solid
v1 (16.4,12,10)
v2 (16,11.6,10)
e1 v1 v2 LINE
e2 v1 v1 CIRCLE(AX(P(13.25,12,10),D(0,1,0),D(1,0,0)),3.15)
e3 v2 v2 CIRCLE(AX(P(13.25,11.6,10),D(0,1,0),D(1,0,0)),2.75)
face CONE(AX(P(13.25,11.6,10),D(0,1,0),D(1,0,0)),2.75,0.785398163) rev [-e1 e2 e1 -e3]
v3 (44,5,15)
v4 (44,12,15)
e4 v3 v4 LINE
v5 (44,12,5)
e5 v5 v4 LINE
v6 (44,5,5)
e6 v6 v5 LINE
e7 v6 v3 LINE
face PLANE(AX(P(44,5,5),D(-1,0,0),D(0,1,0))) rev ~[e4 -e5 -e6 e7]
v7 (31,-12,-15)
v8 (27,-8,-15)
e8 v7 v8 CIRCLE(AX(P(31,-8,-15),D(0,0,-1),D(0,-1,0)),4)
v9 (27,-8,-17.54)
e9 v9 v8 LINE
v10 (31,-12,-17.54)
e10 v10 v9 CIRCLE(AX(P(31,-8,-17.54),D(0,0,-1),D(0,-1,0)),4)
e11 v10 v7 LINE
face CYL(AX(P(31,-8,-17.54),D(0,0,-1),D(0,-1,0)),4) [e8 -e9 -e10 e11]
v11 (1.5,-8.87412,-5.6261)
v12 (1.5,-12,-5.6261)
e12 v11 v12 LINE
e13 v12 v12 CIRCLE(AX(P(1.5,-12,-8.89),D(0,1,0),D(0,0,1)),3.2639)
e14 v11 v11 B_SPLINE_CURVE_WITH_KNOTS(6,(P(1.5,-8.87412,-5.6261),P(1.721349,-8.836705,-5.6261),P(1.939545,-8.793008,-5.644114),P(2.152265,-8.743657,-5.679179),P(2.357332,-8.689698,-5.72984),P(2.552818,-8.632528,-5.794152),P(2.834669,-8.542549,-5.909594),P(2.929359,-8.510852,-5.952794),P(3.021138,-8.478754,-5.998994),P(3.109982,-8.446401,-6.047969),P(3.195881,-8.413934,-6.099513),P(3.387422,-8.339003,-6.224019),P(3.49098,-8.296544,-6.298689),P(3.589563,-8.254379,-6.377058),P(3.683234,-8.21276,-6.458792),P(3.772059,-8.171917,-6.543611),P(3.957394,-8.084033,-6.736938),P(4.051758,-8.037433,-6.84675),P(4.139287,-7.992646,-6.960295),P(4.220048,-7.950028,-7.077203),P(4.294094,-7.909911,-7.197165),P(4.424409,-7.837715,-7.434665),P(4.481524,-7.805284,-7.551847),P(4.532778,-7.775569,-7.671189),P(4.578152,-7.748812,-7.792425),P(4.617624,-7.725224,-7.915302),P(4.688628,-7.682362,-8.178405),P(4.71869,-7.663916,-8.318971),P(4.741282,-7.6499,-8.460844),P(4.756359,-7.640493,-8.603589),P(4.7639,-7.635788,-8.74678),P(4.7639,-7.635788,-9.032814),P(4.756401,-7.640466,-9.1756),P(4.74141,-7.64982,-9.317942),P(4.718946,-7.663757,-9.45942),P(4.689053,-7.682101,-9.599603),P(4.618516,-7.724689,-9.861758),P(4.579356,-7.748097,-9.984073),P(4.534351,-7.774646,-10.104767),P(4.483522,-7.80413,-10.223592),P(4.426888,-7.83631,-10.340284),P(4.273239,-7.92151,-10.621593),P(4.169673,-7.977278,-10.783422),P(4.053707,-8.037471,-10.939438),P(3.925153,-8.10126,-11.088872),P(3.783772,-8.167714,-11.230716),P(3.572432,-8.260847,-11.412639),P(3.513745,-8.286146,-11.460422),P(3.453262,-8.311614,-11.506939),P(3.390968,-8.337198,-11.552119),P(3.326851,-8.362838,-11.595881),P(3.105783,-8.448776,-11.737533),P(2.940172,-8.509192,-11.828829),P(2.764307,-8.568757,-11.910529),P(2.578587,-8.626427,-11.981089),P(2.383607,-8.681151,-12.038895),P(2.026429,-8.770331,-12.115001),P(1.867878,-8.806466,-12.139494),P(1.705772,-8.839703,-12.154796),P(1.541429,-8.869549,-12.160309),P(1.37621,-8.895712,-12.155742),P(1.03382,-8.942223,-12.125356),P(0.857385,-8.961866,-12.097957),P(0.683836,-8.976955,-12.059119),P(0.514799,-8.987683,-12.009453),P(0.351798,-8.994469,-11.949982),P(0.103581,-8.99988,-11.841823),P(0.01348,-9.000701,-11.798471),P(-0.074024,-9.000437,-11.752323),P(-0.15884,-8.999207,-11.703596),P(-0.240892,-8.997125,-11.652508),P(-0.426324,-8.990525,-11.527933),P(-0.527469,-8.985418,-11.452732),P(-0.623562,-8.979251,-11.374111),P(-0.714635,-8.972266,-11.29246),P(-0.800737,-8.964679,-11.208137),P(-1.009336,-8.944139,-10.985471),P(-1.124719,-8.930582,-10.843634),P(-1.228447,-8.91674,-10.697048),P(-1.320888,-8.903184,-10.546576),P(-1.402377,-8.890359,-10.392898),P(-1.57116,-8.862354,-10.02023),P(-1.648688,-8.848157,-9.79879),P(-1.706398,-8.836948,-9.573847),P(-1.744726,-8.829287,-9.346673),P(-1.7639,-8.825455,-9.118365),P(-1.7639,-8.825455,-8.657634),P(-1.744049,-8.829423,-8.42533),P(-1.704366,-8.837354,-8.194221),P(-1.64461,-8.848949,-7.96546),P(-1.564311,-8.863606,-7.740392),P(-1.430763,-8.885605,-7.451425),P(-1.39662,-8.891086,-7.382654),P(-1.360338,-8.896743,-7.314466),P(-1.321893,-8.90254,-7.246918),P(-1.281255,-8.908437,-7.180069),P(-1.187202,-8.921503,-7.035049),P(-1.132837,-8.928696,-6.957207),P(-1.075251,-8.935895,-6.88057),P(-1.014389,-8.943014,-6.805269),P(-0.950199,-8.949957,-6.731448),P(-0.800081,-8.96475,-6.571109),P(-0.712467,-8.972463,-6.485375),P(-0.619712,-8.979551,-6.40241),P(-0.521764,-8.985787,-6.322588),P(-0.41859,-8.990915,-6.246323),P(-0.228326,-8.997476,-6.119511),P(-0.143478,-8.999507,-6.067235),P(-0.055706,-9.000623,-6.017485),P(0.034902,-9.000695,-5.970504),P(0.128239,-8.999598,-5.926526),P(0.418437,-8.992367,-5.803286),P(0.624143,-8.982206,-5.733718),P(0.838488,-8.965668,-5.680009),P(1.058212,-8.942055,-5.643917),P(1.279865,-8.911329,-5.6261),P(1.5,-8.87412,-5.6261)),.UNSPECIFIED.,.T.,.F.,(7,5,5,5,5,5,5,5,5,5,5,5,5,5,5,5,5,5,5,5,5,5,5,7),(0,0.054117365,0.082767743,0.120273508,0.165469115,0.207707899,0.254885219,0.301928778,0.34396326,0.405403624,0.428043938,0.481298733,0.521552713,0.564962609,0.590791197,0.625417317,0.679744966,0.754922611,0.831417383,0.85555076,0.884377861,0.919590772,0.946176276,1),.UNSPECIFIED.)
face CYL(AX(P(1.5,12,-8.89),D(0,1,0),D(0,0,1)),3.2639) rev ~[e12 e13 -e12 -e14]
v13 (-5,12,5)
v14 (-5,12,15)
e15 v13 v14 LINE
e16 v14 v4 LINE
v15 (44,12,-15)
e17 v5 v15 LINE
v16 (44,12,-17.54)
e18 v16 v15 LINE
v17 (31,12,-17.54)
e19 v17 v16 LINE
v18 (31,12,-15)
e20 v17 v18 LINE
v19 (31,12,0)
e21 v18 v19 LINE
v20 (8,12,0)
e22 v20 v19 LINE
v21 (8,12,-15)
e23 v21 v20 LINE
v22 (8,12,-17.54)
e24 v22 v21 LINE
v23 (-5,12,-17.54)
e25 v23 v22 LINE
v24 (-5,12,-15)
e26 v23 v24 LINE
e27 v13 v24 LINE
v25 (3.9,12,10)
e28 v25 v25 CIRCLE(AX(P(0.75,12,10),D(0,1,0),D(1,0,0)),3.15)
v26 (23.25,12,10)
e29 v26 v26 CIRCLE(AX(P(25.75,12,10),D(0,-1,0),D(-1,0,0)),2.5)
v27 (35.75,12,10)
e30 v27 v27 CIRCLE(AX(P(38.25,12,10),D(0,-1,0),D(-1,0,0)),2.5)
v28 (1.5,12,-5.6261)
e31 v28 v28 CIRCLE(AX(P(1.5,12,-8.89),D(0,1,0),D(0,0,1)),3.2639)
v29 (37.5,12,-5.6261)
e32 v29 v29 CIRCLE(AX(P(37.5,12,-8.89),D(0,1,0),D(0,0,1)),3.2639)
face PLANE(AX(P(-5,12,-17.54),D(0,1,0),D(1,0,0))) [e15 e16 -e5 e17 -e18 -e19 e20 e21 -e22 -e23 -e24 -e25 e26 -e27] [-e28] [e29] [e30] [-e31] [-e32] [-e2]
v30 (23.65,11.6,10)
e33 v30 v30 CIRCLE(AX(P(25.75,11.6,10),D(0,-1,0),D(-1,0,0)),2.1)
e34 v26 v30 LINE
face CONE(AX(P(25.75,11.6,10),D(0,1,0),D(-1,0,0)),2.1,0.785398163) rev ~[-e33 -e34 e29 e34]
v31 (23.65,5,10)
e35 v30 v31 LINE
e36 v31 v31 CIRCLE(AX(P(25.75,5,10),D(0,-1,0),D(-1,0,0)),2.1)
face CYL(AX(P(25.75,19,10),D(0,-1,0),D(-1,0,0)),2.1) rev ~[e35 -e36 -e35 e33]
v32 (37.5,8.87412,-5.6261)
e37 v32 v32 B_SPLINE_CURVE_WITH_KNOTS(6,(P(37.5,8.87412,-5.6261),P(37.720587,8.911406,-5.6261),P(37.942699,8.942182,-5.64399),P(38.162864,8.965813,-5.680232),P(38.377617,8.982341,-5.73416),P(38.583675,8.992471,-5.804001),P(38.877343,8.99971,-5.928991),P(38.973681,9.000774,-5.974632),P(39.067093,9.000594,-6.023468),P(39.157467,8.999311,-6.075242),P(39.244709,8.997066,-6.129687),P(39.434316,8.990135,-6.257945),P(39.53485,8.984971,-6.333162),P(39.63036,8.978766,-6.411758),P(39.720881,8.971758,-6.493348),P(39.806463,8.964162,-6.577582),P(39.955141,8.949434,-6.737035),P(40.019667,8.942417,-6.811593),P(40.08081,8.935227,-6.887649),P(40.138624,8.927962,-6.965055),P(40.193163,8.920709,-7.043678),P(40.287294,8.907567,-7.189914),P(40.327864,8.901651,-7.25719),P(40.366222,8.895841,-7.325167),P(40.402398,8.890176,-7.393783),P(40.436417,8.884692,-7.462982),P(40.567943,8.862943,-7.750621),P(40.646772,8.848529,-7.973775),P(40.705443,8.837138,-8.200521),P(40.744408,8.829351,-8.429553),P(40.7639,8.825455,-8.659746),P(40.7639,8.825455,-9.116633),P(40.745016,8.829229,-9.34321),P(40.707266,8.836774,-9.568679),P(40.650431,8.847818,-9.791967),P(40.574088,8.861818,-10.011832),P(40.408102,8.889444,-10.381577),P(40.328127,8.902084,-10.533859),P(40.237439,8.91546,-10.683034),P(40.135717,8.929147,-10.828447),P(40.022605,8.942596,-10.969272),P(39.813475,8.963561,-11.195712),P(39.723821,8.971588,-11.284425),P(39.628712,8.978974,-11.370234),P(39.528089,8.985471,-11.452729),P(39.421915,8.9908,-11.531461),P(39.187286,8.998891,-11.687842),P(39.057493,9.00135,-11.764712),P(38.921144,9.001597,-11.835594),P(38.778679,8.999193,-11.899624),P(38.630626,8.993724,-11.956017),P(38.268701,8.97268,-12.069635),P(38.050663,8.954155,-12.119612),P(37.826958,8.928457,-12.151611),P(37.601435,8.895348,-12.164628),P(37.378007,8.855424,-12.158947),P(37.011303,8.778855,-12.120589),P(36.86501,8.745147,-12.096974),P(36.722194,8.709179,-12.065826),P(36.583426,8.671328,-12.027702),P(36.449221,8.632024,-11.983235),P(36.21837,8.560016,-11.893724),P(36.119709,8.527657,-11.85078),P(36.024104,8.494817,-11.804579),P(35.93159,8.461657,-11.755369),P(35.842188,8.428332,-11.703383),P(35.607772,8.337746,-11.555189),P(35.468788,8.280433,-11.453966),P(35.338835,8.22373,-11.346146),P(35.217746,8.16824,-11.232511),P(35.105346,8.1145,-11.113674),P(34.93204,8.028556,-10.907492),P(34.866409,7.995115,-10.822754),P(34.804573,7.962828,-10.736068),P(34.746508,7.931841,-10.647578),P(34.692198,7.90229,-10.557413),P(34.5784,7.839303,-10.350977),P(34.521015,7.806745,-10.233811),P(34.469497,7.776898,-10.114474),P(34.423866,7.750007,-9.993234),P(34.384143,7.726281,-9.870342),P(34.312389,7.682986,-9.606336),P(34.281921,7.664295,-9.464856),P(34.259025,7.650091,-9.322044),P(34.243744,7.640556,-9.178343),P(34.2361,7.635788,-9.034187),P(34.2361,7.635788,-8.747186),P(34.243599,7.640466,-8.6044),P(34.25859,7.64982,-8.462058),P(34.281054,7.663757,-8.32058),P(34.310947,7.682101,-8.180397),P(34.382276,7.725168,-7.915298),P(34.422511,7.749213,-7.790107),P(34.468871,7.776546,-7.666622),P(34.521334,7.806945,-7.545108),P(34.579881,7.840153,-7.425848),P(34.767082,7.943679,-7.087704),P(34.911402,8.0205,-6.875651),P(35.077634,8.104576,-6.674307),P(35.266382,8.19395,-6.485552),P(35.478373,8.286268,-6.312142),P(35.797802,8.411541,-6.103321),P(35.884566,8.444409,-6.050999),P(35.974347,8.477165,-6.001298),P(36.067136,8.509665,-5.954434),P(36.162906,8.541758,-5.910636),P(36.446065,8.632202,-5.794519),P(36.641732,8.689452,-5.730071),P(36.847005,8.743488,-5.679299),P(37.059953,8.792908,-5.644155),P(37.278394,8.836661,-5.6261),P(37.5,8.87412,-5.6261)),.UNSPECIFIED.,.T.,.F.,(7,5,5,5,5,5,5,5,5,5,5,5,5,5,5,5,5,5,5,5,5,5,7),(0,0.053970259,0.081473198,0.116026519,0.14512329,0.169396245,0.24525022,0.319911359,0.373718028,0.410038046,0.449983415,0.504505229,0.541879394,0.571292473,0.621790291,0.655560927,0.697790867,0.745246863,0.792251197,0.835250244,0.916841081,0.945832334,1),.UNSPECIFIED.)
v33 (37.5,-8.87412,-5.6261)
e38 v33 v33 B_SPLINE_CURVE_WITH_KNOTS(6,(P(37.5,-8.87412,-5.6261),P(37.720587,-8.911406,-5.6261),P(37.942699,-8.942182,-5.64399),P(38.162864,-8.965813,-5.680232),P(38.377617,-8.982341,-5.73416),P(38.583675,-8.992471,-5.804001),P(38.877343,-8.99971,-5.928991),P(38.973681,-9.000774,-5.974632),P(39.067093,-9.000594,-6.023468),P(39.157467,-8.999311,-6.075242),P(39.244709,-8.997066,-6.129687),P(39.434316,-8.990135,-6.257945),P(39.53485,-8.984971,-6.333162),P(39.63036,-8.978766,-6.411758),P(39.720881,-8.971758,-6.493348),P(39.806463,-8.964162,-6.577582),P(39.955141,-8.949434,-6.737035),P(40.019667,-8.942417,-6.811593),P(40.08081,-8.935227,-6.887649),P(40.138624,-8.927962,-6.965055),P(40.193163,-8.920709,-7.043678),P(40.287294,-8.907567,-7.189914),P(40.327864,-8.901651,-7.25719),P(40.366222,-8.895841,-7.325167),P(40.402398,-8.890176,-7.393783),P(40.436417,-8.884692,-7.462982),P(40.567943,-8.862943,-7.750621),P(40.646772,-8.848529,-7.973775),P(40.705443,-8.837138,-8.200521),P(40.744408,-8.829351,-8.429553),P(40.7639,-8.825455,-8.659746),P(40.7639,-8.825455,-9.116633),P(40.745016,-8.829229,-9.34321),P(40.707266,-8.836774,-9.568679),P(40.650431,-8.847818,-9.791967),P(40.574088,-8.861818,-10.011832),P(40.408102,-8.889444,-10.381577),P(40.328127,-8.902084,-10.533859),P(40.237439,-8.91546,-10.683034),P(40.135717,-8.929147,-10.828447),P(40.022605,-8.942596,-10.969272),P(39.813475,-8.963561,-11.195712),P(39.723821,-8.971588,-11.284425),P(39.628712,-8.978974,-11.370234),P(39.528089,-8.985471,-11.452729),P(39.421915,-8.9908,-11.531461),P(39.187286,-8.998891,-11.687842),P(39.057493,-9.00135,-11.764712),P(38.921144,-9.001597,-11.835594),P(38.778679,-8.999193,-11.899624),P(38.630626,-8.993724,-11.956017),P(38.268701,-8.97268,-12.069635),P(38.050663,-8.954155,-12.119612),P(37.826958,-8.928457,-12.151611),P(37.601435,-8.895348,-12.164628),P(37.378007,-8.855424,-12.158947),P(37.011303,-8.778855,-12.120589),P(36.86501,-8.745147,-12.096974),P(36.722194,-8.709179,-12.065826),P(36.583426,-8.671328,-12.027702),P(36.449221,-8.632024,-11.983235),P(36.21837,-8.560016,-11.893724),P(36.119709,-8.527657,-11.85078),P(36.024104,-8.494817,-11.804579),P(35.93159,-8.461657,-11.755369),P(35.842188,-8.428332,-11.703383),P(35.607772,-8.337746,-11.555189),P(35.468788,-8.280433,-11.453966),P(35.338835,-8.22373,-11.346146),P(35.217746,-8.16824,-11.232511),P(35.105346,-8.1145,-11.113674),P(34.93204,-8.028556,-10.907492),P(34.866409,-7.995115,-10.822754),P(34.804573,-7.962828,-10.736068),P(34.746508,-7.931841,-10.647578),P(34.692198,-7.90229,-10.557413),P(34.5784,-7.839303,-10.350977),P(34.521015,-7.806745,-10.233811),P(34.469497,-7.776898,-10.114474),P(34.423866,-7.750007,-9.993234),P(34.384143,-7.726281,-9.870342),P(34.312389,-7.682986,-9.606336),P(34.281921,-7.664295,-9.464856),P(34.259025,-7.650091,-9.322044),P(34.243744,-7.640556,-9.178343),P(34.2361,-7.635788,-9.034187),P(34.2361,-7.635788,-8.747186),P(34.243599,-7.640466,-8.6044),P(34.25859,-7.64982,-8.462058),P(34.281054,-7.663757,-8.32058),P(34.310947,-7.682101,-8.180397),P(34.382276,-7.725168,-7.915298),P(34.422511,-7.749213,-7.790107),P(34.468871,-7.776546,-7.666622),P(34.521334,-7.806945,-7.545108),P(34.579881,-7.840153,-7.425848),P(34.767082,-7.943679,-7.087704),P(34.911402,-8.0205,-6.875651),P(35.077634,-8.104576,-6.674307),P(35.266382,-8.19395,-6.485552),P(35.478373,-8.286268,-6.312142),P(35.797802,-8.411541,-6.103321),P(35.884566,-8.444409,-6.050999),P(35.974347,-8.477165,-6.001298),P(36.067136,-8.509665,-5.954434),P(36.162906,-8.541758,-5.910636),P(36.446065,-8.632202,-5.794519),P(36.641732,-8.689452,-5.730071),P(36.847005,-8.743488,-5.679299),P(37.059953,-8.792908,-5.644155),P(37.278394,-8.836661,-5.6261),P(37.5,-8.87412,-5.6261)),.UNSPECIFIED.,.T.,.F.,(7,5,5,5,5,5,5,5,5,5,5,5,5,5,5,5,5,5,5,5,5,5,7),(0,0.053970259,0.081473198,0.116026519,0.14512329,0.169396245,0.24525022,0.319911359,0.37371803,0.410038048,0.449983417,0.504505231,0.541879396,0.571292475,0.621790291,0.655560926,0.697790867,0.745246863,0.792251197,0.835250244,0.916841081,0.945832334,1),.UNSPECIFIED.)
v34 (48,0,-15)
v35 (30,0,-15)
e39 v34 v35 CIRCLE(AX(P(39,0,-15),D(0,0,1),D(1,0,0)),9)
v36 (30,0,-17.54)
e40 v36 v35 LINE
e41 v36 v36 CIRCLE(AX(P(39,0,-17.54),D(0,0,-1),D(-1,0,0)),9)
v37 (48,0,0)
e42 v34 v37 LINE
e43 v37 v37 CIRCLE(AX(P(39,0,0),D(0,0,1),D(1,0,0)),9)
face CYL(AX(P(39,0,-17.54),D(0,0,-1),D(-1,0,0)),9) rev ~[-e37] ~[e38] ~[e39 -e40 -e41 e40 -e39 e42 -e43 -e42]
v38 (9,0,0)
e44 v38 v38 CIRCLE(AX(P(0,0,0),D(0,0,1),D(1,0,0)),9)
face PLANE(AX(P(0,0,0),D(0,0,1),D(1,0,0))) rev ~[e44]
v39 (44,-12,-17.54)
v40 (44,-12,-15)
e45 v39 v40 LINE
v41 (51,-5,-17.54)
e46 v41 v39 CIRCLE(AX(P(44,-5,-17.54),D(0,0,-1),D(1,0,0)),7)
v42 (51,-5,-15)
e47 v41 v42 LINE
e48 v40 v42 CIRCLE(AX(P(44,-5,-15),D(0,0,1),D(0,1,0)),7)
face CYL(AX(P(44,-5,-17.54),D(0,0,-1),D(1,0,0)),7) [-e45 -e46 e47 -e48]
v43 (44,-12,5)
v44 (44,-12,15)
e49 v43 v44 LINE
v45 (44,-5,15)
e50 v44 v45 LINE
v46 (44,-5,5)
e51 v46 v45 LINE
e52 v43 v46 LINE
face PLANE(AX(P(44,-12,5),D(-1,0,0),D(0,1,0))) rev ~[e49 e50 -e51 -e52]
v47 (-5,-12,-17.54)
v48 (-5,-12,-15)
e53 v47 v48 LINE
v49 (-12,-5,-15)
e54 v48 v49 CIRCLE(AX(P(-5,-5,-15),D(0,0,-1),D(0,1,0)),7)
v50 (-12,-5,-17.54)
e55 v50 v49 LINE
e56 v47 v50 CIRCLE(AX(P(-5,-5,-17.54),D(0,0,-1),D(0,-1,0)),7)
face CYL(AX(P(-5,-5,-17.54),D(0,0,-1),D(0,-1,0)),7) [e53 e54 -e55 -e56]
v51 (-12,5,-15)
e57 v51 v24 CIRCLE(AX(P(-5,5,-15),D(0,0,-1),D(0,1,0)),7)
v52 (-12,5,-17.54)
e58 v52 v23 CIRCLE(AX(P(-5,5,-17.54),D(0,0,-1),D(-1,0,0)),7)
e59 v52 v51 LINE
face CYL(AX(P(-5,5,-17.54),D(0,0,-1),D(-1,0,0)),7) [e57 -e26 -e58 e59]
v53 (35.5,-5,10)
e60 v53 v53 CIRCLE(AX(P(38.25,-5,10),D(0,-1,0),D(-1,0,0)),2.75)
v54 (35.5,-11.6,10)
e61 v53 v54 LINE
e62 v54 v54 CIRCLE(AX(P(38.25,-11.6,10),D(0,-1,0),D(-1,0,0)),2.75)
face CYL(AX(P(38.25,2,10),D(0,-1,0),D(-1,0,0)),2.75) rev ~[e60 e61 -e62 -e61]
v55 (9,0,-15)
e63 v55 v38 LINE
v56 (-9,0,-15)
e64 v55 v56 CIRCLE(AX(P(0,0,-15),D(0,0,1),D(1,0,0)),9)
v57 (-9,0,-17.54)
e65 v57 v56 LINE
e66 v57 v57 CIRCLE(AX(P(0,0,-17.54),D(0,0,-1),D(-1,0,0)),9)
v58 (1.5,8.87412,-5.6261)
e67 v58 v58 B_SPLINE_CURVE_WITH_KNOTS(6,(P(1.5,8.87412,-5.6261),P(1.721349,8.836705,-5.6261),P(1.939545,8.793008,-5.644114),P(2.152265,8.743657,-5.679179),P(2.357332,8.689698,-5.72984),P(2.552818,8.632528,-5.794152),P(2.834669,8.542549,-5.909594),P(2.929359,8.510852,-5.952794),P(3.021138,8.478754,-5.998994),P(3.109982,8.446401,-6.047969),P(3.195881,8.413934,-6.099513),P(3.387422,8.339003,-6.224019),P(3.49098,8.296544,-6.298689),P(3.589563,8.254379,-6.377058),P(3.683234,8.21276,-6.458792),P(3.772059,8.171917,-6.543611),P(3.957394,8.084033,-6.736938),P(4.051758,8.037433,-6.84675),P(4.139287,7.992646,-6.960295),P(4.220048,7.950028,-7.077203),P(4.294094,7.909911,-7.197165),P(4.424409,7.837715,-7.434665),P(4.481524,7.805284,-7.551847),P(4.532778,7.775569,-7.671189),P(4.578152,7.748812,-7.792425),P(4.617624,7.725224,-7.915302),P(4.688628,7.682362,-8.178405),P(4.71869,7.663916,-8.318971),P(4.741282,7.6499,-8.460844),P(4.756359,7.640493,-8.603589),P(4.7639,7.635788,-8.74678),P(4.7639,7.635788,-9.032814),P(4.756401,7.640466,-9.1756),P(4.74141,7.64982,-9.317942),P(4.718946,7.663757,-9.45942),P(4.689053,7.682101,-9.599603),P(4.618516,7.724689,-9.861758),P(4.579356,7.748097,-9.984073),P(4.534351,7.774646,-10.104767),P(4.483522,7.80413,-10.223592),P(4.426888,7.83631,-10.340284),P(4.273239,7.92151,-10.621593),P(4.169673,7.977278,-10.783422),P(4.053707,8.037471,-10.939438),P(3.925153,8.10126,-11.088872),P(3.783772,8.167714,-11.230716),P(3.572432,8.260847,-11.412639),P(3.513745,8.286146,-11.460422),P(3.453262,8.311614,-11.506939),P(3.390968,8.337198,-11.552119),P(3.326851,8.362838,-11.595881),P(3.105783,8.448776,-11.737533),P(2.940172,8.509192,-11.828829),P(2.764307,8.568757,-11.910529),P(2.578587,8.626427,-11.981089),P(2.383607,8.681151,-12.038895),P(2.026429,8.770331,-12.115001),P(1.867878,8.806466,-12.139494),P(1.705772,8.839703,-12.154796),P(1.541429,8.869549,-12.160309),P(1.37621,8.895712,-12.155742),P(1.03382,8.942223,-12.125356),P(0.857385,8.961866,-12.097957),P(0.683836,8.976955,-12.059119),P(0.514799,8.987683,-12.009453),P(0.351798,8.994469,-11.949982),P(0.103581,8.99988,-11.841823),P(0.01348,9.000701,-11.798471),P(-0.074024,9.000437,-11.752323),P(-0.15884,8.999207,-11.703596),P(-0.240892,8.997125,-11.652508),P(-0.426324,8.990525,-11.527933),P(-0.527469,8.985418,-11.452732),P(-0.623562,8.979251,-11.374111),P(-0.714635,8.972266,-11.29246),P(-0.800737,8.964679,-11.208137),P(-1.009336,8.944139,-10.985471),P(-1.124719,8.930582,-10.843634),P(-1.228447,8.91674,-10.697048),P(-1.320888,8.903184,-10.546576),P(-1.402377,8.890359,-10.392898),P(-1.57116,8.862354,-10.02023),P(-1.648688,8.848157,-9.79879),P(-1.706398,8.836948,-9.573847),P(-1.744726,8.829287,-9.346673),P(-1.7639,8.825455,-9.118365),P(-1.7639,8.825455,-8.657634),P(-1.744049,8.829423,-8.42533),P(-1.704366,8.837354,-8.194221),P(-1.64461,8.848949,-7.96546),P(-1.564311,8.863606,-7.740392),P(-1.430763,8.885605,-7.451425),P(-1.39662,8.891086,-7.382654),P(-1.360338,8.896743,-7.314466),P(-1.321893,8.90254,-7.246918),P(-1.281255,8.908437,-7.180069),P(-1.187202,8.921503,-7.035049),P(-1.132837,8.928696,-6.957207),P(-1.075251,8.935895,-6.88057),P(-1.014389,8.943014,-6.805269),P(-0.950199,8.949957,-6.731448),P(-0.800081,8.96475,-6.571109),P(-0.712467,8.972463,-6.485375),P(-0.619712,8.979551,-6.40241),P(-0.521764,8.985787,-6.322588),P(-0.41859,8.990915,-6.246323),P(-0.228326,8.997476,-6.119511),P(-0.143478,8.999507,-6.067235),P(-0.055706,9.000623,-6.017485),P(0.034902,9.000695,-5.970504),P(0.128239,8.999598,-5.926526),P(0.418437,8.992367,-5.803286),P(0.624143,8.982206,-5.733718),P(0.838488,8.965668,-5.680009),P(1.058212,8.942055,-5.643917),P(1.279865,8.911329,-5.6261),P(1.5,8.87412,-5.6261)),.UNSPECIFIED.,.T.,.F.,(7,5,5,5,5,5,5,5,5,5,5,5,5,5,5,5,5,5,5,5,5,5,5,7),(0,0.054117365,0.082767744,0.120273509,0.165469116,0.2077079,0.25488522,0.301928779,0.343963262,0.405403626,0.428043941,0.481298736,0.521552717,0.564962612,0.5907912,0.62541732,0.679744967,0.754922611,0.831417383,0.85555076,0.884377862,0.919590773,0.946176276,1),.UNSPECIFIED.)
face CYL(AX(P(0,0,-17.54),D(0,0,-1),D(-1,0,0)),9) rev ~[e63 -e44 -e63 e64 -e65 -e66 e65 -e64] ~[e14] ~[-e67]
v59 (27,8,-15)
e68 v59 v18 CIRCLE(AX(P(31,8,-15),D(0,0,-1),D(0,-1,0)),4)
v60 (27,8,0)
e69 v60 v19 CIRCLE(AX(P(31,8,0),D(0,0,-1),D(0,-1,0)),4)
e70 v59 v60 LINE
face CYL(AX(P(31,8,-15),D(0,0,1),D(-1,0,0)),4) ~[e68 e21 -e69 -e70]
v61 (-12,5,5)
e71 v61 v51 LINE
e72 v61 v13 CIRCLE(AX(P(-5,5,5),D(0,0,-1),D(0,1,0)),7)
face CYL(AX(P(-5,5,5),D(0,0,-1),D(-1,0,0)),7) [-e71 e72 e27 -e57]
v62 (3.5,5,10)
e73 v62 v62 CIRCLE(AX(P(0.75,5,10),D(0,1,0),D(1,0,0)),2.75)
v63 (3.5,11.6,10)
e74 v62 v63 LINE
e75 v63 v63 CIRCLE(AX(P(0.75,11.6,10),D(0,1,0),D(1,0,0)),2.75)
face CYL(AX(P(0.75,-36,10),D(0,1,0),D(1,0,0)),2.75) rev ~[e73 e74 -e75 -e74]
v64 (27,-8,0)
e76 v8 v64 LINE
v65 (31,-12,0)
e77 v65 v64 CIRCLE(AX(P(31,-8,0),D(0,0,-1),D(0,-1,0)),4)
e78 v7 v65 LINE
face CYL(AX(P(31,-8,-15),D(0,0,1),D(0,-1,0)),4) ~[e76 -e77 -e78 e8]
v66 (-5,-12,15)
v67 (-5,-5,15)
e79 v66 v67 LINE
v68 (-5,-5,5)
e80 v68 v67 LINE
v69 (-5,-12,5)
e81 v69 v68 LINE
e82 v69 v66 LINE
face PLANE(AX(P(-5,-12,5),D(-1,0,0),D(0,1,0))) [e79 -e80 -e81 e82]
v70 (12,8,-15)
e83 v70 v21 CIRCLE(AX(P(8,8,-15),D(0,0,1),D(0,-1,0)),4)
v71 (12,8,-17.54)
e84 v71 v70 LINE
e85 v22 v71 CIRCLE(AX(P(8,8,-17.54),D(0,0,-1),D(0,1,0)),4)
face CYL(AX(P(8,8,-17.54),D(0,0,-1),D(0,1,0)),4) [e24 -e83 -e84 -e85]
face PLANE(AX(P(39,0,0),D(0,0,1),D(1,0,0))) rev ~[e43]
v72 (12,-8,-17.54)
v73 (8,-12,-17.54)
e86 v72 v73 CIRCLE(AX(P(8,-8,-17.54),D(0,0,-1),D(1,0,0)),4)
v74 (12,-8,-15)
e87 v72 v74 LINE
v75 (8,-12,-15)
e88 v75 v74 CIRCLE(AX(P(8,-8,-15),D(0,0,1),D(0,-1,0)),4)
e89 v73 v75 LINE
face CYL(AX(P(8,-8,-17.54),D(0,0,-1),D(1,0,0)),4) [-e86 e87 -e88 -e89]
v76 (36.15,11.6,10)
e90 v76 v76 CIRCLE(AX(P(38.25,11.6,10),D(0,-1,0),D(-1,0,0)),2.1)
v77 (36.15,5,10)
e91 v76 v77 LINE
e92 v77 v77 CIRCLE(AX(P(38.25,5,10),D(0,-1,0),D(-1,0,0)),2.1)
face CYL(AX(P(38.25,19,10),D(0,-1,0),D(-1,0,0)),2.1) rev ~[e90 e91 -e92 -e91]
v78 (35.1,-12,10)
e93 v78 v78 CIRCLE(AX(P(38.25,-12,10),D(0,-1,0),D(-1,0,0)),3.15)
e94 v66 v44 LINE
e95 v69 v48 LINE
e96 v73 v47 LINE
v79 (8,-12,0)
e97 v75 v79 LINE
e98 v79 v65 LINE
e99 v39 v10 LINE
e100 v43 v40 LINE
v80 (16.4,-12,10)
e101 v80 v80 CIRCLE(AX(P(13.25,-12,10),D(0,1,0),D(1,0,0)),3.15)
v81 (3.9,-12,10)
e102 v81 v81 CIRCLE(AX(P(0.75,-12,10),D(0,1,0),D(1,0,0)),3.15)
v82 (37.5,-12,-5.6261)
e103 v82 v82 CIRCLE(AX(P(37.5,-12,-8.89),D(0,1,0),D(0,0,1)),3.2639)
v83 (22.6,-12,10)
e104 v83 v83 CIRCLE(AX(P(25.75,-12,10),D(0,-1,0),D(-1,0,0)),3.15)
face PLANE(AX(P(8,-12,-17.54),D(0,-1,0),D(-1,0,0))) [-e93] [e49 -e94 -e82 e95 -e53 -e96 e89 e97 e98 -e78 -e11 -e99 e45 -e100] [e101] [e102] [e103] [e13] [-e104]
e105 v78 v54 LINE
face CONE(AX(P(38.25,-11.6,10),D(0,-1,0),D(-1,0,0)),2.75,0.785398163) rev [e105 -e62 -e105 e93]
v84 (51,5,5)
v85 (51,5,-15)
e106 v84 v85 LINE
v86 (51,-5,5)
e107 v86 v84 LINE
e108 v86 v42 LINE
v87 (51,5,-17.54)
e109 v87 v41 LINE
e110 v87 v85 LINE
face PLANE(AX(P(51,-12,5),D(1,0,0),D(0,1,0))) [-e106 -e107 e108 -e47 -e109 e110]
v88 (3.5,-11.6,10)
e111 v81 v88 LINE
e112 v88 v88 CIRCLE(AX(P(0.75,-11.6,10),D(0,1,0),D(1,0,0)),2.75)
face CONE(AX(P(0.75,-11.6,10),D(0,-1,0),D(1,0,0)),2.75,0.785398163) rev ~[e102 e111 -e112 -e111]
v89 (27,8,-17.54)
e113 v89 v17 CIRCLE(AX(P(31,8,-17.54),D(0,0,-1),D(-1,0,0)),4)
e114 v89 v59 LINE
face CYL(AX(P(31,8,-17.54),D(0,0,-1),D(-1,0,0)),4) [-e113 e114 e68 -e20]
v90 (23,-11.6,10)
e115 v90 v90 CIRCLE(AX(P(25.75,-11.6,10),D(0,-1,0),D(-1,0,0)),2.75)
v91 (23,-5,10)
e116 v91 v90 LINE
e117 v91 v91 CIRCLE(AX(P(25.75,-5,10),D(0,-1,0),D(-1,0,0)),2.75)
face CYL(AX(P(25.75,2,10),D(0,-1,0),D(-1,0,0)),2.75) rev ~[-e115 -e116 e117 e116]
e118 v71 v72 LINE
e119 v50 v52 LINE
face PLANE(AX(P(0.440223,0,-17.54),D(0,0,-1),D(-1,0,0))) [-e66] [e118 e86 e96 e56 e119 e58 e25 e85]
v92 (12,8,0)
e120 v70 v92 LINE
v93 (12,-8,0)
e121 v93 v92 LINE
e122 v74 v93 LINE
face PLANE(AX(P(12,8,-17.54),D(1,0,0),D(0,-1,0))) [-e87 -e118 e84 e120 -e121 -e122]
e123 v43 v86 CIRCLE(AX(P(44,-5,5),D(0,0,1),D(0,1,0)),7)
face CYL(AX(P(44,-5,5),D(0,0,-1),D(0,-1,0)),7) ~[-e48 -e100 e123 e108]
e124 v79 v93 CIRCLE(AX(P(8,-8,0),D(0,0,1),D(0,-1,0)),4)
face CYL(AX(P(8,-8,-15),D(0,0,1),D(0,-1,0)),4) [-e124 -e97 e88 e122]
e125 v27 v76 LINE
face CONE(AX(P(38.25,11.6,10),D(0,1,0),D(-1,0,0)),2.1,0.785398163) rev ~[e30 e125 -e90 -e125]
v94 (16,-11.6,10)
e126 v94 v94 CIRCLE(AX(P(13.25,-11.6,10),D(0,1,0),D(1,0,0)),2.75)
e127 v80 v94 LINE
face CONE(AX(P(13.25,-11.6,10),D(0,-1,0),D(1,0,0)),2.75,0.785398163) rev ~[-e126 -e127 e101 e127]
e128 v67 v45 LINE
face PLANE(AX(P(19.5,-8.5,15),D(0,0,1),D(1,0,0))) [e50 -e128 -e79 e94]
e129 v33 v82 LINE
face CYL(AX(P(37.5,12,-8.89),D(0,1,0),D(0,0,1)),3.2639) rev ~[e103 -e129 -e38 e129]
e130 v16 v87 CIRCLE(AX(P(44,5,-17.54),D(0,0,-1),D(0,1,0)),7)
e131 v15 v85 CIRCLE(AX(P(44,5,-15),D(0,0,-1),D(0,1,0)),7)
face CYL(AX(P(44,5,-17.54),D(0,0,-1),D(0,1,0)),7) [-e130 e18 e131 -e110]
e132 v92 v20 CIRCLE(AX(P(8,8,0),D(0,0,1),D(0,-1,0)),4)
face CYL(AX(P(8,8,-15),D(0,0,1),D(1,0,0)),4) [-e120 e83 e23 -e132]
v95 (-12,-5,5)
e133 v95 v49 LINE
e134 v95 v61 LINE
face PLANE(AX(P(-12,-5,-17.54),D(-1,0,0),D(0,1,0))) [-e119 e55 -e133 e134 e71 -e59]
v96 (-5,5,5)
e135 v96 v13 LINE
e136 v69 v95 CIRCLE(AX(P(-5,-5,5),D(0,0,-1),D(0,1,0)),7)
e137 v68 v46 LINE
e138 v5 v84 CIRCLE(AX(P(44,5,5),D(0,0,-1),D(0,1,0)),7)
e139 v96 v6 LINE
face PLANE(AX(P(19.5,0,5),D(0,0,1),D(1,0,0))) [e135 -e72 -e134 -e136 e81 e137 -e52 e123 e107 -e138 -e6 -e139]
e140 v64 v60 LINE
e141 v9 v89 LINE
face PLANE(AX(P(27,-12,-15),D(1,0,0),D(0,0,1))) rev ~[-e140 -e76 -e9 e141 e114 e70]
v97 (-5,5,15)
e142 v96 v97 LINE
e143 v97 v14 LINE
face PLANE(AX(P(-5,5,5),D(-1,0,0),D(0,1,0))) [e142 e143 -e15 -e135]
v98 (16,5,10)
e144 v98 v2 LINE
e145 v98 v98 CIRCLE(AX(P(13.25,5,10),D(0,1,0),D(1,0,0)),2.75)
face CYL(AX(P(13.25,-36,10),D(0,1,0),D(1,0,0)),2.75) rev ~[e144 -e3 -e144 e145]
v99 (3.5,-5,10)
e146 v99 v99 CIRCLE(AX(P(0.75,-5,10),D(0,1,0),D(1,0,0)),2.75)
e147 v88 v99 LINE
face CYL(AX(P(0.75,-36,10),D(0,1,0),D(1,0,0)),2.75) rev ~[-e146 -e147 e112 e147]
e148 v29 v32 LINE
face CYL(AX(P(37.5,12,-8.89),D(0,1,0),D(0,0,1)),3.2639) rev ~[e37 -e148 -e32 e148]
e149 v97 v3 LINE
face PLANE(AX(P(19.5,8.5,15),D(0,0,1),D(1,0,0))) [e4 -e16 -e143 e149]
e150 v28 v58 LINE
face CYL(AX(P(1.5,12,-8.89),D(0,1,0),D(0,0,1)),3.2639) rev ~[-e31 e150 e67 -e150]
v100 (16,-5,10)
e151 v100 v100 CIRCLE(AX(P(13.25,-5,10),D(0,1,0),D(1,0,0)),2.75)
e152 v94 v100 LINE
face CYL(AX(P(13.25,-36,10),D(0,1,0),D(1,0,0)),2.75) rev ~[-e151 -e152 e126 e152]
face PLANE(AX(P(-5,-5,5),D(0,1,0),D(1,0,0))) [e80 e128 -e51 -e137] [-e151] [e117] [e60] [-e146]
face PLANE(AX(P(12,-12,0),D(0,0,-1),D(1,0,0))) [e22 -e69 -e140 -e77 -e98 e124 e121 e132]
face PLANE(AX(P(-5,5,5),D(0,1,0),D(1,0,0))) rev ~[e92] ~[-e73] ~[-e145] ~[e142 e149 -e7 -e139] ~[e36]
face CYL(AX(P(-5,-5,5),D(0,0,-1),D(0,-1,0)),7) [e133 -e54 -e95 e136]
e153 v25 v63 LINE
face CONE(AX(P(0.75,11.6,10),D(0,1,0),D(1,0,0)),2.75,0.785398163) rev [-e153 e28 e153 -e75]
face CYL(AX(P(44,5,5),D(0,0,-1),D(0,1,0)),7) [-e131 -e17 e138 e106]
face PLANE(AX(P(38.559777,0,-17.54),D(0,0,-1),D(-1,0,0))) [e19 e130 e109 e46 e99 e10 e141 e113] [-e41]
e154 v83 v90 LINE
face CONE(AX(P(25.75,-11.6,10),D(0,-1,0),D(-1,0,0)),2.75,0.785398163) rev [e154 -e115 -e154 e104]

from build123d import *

# Parameters (mm, degrees)
SKETCH1_W                  = 63
SKETCH1_H                  = 24
BOSS_EXTRUDE1_DEPTH        = 20
SKETCH2_W                  = 15
SKETCH2_H                  = 15
CUT_EXTRUDE1_DEPTH         = 59.326666286
SKETCH3_W                  = 49
SKETCH3_H                  = 7
BOSS_EXTRUDE2_DEPTH        = 10
SKETCH4_W                  = 49
SKETCH4_H                  = 7
BOSS_EXTRUDE3_DEPTH        = 10
HOLE1_D                    = 18
HOLE1_DEPTH                = 15
F_6_CLEARANCE_HOLE1_D      = 4.2
F_6_CLEARANCE_HOLE1_DEPTH  = 7
F_6_CLEARANCE_HOLE2_D      = 4.2
F_6_CLEARANCE_HOLE2_DEPTH  = 7
F_10_CLEARANCE_HOLE1_D     = 5.5
F_10_CLEARANCE_HOLE1_DEPTH = 24
F_10_CLEARANCE_HOLE2_D     = 5.5
F_10_CLEARANCE_HOLE2_DEPTH = 7
CHAMFER1_SIZE              = 0.4
FILLET1_R                  = 4
FILLET2_R                  = 7
BOSS_EXTRUDE5_START        = 2.54
SKETCH20_R                 = 9
BOSS_EXTRUDE5_DEPTH        = 2.54
SKETCH21_R                 = 3.2639
CUT_EXTRUDE4_DEPTH         = 60.030937651


with BuildPart() as part:
    # Sketch1 → Boss-Extrude1 (new body)
    with BuildSketch(Plane.XY.offset(5)):
        with Locations((19.5, 0)):
            Rectangle(SKETCH1_W, SKETCH1_H)
    extrude(amount=-BOSS_EXTRUDE1_DEPTH)

    # Sketch2 → Cut-Extrude1 (cut, through all)
    with BuildSketch(Plane.XZ.offset(12)):
        with Locations((19.5, -7.5)):
            Rectangle(SKETCH2_W, SKETCH2_H)
    extrude(amount=-CUT_EXTRUDE1_DEPTH, mode=Mode.SUBTRACT)

    # Sketch3 → Boss-Extrude2 (add)
    with BuildSketch(Plane.XY.offset(5)):
        with Locations((19.5, -8.5)):
            Rectangle(SKETCH3_W, SKETCH3_H)
    extrude(amount=BOSS_EXTRUDE2_DEPTH)

    # Sketch4 → Boss-Extrude3 (add)
    with BuildSketch(Plane.XY.offset(5)):
        with Locations((19.5, 8.5)):
            Rectangle(SKETCH4_W, SKETCH4_H)
    extrude(amount=BOSS_EXTRUDE3_DEPTH)

    # Hole1
    with Locations(Plane(origin=(0, 0, -15), x_dir=(-1, 0, 0), z_dir=(0, 0, -1))):
        with Locations((0, 0), (-39, 0)):
            Hole(HOLE1_D / 2, depth=HOLE1_DEPTH)

    # #6 Clearance Hole1
    with Locations(Plane(origin=(0, 5, 0), x_dir=(-1, 0, 0), z_dir=(0, -1, 0))):
        with Locations((-0.75, -10)):
            Hole(F_6_CLEARANCE_HOLE1_D / 2, depth=F_6_CLEARANCE_HOLE1_DEPTH)

    # #6 Clearance Hole2
    with Locations(Plane(origin=(0, 12, 0), x_dir=(1, 0, 0), z_dir=(0, 1, 0))):
        with Locations((38.25, -10), (25.75, -10), (13.25, -10)):
            Hole(F_6_CLEARANCE_HOLE2_D / 2, depth=F_6_CLEARANCE_HOLE2_DEPTH)

    # #10 Clearance Hole1
    with Locations(Plane(origin=(0, -12, 0), x_dir=(-1, 0, 0), z_dir=(0, -1, 0))):
        with Locations((-13.25, -10), (-0.75, -10)):
            Hole(F_10_CLEARANCE_HOLE1_D / 2, depth=F_10_CLEARANCE_HOLE1_DEPTH)

    # #10 Clearance Hole2
    with Locations(Plane(origin=(0, -5, 0), x_dir=(1, 0, 0), z_dir=(0, 1, 0))):
        with Locations((38.25, -10), (25.75, -10)):
            Hole(F_10_CLEARANCE_HOLE2_D / 2, depth=F_10_CLEARANCE_HOLE2_DEPTH)

    # Chamfer1
    chamfer1_edges = [part.edges().sort_by_distance(p)[0] for p in [
        (10.5, 12, 10),
        (10.5, -12, 10),
        (28.5, -12, 10),
        (41, -12, 10),
        (27.85, 12, 10),
        (40.35, 12, 10),
        (-2, 12, 10),
        (-2, -12, 10),
    ]]
    chamfer(chamfer1_edges, length=CHAMFER1_SIZE)

    # Fillet1
    fillet1_edges = [part.edges().sort_by_distance(p)[0] for p in [
        (12, 12, -7.5),
        (27, 12, -7.5),
        (12, -12, -7.5),
        (27, -12, -7.5),
    ]]
    fillet(fillet1_edges, radius=FILLET1_R)

    # Fillet2
    fillet2_edges = [part.edges().sort_by_distance(p)[0] for p in [
        (51, -12, -5),
        (-12, 12, -5),
        (51, 12, -5),
        (-12, -12, -5),
    ]]
    fillet(fillet2_edges, radius=FILLET2_R)

    # Sketch20 → Boss-Extrude5 (add)
    # profile 1 of 2: a face of its own
    with BuildSketch(Plane(origin=(0, 0, -15), x_dir=(-1, 0, 0), z_dir=(0, 0, -1)).offset(BOSS_EXTRUDE5_START)):
        with BuildLine():
            Line((12, -5), (12, 5))
            ThreePointArc((12, 5), (9.949747468, 9.949747468), (5, 12))
            Line((5, 12), (-8, 12))
            ThreePointArc((-8, 12), (-10.828427125, 10.828427125), (-12, 8))
            Line((-12, 8), (-12, -8))
            ThreePointArc((-12, -8), (-10.828427125, -10.828427125), (-8, -12))
            Line((-8, -12), (5, -12))
            ThreePointArc((5, -12), (9.949747468, -9.949747468), (12, -5))
        make_face()
        Circle(SKETCH20_R, mode=Mode.SUBTRACT)
    # profile 2 of 2: a face of its own
    with BuildSketch(Plane(origin=(0, 0, -15), x_dir=(-1, 0, 0), z_dir=(0, 0, -1)).offset(BOSS_EXTRUDE5_START)):
        with BuildLine():
            Line((-51, 5), (-51, -5))
            ThreePointArc((-51, -5), (-48.949747468, -9.949747468), (-44, -12))
            Line((-44, -12), (-31, -12))
            ThreePointArc((-31, -12), (-28.171572875, -10.828427125), (-27, -8))
            Line((-27, -8), (-27, 8))
            ThreePointArc((-27, 8), (-28.171572875, 10.828427125), (-31, 12))
            Line((-31, 12), (-44, 12))
            ThreePointArc((-44, 12), (-48.949747468, 9.949747468), (-51, 5))
        make_face()
        with Locations((-39, 0)):
            Circle(SKETCH20_R, mode=Mode.SUBTRACT)
    extrude(amount=-BOSS_EXTRUDE5_DEPTH)

    # Sketch21 → Cut-Extrude4 (cut, through all)
    with BuildSketch(Plane(origin=(0, 12, 0), x_dir=(1, 0, 0), z_dir=(0, 1, 0))):
        with Locations(Location((37.5, 8.89, 0), (0, 0, 270))):
            Circle(SKETCH21_R)
        with Locations(Location((1.5, 8.89, 0), (0, 0, 270))):
            Circle(SKETCH21_R)
    extrude(amount=-CUT_EXTRUDE4_DEPTH, mode=Mode.SUBTRACT)


solid = part.part
